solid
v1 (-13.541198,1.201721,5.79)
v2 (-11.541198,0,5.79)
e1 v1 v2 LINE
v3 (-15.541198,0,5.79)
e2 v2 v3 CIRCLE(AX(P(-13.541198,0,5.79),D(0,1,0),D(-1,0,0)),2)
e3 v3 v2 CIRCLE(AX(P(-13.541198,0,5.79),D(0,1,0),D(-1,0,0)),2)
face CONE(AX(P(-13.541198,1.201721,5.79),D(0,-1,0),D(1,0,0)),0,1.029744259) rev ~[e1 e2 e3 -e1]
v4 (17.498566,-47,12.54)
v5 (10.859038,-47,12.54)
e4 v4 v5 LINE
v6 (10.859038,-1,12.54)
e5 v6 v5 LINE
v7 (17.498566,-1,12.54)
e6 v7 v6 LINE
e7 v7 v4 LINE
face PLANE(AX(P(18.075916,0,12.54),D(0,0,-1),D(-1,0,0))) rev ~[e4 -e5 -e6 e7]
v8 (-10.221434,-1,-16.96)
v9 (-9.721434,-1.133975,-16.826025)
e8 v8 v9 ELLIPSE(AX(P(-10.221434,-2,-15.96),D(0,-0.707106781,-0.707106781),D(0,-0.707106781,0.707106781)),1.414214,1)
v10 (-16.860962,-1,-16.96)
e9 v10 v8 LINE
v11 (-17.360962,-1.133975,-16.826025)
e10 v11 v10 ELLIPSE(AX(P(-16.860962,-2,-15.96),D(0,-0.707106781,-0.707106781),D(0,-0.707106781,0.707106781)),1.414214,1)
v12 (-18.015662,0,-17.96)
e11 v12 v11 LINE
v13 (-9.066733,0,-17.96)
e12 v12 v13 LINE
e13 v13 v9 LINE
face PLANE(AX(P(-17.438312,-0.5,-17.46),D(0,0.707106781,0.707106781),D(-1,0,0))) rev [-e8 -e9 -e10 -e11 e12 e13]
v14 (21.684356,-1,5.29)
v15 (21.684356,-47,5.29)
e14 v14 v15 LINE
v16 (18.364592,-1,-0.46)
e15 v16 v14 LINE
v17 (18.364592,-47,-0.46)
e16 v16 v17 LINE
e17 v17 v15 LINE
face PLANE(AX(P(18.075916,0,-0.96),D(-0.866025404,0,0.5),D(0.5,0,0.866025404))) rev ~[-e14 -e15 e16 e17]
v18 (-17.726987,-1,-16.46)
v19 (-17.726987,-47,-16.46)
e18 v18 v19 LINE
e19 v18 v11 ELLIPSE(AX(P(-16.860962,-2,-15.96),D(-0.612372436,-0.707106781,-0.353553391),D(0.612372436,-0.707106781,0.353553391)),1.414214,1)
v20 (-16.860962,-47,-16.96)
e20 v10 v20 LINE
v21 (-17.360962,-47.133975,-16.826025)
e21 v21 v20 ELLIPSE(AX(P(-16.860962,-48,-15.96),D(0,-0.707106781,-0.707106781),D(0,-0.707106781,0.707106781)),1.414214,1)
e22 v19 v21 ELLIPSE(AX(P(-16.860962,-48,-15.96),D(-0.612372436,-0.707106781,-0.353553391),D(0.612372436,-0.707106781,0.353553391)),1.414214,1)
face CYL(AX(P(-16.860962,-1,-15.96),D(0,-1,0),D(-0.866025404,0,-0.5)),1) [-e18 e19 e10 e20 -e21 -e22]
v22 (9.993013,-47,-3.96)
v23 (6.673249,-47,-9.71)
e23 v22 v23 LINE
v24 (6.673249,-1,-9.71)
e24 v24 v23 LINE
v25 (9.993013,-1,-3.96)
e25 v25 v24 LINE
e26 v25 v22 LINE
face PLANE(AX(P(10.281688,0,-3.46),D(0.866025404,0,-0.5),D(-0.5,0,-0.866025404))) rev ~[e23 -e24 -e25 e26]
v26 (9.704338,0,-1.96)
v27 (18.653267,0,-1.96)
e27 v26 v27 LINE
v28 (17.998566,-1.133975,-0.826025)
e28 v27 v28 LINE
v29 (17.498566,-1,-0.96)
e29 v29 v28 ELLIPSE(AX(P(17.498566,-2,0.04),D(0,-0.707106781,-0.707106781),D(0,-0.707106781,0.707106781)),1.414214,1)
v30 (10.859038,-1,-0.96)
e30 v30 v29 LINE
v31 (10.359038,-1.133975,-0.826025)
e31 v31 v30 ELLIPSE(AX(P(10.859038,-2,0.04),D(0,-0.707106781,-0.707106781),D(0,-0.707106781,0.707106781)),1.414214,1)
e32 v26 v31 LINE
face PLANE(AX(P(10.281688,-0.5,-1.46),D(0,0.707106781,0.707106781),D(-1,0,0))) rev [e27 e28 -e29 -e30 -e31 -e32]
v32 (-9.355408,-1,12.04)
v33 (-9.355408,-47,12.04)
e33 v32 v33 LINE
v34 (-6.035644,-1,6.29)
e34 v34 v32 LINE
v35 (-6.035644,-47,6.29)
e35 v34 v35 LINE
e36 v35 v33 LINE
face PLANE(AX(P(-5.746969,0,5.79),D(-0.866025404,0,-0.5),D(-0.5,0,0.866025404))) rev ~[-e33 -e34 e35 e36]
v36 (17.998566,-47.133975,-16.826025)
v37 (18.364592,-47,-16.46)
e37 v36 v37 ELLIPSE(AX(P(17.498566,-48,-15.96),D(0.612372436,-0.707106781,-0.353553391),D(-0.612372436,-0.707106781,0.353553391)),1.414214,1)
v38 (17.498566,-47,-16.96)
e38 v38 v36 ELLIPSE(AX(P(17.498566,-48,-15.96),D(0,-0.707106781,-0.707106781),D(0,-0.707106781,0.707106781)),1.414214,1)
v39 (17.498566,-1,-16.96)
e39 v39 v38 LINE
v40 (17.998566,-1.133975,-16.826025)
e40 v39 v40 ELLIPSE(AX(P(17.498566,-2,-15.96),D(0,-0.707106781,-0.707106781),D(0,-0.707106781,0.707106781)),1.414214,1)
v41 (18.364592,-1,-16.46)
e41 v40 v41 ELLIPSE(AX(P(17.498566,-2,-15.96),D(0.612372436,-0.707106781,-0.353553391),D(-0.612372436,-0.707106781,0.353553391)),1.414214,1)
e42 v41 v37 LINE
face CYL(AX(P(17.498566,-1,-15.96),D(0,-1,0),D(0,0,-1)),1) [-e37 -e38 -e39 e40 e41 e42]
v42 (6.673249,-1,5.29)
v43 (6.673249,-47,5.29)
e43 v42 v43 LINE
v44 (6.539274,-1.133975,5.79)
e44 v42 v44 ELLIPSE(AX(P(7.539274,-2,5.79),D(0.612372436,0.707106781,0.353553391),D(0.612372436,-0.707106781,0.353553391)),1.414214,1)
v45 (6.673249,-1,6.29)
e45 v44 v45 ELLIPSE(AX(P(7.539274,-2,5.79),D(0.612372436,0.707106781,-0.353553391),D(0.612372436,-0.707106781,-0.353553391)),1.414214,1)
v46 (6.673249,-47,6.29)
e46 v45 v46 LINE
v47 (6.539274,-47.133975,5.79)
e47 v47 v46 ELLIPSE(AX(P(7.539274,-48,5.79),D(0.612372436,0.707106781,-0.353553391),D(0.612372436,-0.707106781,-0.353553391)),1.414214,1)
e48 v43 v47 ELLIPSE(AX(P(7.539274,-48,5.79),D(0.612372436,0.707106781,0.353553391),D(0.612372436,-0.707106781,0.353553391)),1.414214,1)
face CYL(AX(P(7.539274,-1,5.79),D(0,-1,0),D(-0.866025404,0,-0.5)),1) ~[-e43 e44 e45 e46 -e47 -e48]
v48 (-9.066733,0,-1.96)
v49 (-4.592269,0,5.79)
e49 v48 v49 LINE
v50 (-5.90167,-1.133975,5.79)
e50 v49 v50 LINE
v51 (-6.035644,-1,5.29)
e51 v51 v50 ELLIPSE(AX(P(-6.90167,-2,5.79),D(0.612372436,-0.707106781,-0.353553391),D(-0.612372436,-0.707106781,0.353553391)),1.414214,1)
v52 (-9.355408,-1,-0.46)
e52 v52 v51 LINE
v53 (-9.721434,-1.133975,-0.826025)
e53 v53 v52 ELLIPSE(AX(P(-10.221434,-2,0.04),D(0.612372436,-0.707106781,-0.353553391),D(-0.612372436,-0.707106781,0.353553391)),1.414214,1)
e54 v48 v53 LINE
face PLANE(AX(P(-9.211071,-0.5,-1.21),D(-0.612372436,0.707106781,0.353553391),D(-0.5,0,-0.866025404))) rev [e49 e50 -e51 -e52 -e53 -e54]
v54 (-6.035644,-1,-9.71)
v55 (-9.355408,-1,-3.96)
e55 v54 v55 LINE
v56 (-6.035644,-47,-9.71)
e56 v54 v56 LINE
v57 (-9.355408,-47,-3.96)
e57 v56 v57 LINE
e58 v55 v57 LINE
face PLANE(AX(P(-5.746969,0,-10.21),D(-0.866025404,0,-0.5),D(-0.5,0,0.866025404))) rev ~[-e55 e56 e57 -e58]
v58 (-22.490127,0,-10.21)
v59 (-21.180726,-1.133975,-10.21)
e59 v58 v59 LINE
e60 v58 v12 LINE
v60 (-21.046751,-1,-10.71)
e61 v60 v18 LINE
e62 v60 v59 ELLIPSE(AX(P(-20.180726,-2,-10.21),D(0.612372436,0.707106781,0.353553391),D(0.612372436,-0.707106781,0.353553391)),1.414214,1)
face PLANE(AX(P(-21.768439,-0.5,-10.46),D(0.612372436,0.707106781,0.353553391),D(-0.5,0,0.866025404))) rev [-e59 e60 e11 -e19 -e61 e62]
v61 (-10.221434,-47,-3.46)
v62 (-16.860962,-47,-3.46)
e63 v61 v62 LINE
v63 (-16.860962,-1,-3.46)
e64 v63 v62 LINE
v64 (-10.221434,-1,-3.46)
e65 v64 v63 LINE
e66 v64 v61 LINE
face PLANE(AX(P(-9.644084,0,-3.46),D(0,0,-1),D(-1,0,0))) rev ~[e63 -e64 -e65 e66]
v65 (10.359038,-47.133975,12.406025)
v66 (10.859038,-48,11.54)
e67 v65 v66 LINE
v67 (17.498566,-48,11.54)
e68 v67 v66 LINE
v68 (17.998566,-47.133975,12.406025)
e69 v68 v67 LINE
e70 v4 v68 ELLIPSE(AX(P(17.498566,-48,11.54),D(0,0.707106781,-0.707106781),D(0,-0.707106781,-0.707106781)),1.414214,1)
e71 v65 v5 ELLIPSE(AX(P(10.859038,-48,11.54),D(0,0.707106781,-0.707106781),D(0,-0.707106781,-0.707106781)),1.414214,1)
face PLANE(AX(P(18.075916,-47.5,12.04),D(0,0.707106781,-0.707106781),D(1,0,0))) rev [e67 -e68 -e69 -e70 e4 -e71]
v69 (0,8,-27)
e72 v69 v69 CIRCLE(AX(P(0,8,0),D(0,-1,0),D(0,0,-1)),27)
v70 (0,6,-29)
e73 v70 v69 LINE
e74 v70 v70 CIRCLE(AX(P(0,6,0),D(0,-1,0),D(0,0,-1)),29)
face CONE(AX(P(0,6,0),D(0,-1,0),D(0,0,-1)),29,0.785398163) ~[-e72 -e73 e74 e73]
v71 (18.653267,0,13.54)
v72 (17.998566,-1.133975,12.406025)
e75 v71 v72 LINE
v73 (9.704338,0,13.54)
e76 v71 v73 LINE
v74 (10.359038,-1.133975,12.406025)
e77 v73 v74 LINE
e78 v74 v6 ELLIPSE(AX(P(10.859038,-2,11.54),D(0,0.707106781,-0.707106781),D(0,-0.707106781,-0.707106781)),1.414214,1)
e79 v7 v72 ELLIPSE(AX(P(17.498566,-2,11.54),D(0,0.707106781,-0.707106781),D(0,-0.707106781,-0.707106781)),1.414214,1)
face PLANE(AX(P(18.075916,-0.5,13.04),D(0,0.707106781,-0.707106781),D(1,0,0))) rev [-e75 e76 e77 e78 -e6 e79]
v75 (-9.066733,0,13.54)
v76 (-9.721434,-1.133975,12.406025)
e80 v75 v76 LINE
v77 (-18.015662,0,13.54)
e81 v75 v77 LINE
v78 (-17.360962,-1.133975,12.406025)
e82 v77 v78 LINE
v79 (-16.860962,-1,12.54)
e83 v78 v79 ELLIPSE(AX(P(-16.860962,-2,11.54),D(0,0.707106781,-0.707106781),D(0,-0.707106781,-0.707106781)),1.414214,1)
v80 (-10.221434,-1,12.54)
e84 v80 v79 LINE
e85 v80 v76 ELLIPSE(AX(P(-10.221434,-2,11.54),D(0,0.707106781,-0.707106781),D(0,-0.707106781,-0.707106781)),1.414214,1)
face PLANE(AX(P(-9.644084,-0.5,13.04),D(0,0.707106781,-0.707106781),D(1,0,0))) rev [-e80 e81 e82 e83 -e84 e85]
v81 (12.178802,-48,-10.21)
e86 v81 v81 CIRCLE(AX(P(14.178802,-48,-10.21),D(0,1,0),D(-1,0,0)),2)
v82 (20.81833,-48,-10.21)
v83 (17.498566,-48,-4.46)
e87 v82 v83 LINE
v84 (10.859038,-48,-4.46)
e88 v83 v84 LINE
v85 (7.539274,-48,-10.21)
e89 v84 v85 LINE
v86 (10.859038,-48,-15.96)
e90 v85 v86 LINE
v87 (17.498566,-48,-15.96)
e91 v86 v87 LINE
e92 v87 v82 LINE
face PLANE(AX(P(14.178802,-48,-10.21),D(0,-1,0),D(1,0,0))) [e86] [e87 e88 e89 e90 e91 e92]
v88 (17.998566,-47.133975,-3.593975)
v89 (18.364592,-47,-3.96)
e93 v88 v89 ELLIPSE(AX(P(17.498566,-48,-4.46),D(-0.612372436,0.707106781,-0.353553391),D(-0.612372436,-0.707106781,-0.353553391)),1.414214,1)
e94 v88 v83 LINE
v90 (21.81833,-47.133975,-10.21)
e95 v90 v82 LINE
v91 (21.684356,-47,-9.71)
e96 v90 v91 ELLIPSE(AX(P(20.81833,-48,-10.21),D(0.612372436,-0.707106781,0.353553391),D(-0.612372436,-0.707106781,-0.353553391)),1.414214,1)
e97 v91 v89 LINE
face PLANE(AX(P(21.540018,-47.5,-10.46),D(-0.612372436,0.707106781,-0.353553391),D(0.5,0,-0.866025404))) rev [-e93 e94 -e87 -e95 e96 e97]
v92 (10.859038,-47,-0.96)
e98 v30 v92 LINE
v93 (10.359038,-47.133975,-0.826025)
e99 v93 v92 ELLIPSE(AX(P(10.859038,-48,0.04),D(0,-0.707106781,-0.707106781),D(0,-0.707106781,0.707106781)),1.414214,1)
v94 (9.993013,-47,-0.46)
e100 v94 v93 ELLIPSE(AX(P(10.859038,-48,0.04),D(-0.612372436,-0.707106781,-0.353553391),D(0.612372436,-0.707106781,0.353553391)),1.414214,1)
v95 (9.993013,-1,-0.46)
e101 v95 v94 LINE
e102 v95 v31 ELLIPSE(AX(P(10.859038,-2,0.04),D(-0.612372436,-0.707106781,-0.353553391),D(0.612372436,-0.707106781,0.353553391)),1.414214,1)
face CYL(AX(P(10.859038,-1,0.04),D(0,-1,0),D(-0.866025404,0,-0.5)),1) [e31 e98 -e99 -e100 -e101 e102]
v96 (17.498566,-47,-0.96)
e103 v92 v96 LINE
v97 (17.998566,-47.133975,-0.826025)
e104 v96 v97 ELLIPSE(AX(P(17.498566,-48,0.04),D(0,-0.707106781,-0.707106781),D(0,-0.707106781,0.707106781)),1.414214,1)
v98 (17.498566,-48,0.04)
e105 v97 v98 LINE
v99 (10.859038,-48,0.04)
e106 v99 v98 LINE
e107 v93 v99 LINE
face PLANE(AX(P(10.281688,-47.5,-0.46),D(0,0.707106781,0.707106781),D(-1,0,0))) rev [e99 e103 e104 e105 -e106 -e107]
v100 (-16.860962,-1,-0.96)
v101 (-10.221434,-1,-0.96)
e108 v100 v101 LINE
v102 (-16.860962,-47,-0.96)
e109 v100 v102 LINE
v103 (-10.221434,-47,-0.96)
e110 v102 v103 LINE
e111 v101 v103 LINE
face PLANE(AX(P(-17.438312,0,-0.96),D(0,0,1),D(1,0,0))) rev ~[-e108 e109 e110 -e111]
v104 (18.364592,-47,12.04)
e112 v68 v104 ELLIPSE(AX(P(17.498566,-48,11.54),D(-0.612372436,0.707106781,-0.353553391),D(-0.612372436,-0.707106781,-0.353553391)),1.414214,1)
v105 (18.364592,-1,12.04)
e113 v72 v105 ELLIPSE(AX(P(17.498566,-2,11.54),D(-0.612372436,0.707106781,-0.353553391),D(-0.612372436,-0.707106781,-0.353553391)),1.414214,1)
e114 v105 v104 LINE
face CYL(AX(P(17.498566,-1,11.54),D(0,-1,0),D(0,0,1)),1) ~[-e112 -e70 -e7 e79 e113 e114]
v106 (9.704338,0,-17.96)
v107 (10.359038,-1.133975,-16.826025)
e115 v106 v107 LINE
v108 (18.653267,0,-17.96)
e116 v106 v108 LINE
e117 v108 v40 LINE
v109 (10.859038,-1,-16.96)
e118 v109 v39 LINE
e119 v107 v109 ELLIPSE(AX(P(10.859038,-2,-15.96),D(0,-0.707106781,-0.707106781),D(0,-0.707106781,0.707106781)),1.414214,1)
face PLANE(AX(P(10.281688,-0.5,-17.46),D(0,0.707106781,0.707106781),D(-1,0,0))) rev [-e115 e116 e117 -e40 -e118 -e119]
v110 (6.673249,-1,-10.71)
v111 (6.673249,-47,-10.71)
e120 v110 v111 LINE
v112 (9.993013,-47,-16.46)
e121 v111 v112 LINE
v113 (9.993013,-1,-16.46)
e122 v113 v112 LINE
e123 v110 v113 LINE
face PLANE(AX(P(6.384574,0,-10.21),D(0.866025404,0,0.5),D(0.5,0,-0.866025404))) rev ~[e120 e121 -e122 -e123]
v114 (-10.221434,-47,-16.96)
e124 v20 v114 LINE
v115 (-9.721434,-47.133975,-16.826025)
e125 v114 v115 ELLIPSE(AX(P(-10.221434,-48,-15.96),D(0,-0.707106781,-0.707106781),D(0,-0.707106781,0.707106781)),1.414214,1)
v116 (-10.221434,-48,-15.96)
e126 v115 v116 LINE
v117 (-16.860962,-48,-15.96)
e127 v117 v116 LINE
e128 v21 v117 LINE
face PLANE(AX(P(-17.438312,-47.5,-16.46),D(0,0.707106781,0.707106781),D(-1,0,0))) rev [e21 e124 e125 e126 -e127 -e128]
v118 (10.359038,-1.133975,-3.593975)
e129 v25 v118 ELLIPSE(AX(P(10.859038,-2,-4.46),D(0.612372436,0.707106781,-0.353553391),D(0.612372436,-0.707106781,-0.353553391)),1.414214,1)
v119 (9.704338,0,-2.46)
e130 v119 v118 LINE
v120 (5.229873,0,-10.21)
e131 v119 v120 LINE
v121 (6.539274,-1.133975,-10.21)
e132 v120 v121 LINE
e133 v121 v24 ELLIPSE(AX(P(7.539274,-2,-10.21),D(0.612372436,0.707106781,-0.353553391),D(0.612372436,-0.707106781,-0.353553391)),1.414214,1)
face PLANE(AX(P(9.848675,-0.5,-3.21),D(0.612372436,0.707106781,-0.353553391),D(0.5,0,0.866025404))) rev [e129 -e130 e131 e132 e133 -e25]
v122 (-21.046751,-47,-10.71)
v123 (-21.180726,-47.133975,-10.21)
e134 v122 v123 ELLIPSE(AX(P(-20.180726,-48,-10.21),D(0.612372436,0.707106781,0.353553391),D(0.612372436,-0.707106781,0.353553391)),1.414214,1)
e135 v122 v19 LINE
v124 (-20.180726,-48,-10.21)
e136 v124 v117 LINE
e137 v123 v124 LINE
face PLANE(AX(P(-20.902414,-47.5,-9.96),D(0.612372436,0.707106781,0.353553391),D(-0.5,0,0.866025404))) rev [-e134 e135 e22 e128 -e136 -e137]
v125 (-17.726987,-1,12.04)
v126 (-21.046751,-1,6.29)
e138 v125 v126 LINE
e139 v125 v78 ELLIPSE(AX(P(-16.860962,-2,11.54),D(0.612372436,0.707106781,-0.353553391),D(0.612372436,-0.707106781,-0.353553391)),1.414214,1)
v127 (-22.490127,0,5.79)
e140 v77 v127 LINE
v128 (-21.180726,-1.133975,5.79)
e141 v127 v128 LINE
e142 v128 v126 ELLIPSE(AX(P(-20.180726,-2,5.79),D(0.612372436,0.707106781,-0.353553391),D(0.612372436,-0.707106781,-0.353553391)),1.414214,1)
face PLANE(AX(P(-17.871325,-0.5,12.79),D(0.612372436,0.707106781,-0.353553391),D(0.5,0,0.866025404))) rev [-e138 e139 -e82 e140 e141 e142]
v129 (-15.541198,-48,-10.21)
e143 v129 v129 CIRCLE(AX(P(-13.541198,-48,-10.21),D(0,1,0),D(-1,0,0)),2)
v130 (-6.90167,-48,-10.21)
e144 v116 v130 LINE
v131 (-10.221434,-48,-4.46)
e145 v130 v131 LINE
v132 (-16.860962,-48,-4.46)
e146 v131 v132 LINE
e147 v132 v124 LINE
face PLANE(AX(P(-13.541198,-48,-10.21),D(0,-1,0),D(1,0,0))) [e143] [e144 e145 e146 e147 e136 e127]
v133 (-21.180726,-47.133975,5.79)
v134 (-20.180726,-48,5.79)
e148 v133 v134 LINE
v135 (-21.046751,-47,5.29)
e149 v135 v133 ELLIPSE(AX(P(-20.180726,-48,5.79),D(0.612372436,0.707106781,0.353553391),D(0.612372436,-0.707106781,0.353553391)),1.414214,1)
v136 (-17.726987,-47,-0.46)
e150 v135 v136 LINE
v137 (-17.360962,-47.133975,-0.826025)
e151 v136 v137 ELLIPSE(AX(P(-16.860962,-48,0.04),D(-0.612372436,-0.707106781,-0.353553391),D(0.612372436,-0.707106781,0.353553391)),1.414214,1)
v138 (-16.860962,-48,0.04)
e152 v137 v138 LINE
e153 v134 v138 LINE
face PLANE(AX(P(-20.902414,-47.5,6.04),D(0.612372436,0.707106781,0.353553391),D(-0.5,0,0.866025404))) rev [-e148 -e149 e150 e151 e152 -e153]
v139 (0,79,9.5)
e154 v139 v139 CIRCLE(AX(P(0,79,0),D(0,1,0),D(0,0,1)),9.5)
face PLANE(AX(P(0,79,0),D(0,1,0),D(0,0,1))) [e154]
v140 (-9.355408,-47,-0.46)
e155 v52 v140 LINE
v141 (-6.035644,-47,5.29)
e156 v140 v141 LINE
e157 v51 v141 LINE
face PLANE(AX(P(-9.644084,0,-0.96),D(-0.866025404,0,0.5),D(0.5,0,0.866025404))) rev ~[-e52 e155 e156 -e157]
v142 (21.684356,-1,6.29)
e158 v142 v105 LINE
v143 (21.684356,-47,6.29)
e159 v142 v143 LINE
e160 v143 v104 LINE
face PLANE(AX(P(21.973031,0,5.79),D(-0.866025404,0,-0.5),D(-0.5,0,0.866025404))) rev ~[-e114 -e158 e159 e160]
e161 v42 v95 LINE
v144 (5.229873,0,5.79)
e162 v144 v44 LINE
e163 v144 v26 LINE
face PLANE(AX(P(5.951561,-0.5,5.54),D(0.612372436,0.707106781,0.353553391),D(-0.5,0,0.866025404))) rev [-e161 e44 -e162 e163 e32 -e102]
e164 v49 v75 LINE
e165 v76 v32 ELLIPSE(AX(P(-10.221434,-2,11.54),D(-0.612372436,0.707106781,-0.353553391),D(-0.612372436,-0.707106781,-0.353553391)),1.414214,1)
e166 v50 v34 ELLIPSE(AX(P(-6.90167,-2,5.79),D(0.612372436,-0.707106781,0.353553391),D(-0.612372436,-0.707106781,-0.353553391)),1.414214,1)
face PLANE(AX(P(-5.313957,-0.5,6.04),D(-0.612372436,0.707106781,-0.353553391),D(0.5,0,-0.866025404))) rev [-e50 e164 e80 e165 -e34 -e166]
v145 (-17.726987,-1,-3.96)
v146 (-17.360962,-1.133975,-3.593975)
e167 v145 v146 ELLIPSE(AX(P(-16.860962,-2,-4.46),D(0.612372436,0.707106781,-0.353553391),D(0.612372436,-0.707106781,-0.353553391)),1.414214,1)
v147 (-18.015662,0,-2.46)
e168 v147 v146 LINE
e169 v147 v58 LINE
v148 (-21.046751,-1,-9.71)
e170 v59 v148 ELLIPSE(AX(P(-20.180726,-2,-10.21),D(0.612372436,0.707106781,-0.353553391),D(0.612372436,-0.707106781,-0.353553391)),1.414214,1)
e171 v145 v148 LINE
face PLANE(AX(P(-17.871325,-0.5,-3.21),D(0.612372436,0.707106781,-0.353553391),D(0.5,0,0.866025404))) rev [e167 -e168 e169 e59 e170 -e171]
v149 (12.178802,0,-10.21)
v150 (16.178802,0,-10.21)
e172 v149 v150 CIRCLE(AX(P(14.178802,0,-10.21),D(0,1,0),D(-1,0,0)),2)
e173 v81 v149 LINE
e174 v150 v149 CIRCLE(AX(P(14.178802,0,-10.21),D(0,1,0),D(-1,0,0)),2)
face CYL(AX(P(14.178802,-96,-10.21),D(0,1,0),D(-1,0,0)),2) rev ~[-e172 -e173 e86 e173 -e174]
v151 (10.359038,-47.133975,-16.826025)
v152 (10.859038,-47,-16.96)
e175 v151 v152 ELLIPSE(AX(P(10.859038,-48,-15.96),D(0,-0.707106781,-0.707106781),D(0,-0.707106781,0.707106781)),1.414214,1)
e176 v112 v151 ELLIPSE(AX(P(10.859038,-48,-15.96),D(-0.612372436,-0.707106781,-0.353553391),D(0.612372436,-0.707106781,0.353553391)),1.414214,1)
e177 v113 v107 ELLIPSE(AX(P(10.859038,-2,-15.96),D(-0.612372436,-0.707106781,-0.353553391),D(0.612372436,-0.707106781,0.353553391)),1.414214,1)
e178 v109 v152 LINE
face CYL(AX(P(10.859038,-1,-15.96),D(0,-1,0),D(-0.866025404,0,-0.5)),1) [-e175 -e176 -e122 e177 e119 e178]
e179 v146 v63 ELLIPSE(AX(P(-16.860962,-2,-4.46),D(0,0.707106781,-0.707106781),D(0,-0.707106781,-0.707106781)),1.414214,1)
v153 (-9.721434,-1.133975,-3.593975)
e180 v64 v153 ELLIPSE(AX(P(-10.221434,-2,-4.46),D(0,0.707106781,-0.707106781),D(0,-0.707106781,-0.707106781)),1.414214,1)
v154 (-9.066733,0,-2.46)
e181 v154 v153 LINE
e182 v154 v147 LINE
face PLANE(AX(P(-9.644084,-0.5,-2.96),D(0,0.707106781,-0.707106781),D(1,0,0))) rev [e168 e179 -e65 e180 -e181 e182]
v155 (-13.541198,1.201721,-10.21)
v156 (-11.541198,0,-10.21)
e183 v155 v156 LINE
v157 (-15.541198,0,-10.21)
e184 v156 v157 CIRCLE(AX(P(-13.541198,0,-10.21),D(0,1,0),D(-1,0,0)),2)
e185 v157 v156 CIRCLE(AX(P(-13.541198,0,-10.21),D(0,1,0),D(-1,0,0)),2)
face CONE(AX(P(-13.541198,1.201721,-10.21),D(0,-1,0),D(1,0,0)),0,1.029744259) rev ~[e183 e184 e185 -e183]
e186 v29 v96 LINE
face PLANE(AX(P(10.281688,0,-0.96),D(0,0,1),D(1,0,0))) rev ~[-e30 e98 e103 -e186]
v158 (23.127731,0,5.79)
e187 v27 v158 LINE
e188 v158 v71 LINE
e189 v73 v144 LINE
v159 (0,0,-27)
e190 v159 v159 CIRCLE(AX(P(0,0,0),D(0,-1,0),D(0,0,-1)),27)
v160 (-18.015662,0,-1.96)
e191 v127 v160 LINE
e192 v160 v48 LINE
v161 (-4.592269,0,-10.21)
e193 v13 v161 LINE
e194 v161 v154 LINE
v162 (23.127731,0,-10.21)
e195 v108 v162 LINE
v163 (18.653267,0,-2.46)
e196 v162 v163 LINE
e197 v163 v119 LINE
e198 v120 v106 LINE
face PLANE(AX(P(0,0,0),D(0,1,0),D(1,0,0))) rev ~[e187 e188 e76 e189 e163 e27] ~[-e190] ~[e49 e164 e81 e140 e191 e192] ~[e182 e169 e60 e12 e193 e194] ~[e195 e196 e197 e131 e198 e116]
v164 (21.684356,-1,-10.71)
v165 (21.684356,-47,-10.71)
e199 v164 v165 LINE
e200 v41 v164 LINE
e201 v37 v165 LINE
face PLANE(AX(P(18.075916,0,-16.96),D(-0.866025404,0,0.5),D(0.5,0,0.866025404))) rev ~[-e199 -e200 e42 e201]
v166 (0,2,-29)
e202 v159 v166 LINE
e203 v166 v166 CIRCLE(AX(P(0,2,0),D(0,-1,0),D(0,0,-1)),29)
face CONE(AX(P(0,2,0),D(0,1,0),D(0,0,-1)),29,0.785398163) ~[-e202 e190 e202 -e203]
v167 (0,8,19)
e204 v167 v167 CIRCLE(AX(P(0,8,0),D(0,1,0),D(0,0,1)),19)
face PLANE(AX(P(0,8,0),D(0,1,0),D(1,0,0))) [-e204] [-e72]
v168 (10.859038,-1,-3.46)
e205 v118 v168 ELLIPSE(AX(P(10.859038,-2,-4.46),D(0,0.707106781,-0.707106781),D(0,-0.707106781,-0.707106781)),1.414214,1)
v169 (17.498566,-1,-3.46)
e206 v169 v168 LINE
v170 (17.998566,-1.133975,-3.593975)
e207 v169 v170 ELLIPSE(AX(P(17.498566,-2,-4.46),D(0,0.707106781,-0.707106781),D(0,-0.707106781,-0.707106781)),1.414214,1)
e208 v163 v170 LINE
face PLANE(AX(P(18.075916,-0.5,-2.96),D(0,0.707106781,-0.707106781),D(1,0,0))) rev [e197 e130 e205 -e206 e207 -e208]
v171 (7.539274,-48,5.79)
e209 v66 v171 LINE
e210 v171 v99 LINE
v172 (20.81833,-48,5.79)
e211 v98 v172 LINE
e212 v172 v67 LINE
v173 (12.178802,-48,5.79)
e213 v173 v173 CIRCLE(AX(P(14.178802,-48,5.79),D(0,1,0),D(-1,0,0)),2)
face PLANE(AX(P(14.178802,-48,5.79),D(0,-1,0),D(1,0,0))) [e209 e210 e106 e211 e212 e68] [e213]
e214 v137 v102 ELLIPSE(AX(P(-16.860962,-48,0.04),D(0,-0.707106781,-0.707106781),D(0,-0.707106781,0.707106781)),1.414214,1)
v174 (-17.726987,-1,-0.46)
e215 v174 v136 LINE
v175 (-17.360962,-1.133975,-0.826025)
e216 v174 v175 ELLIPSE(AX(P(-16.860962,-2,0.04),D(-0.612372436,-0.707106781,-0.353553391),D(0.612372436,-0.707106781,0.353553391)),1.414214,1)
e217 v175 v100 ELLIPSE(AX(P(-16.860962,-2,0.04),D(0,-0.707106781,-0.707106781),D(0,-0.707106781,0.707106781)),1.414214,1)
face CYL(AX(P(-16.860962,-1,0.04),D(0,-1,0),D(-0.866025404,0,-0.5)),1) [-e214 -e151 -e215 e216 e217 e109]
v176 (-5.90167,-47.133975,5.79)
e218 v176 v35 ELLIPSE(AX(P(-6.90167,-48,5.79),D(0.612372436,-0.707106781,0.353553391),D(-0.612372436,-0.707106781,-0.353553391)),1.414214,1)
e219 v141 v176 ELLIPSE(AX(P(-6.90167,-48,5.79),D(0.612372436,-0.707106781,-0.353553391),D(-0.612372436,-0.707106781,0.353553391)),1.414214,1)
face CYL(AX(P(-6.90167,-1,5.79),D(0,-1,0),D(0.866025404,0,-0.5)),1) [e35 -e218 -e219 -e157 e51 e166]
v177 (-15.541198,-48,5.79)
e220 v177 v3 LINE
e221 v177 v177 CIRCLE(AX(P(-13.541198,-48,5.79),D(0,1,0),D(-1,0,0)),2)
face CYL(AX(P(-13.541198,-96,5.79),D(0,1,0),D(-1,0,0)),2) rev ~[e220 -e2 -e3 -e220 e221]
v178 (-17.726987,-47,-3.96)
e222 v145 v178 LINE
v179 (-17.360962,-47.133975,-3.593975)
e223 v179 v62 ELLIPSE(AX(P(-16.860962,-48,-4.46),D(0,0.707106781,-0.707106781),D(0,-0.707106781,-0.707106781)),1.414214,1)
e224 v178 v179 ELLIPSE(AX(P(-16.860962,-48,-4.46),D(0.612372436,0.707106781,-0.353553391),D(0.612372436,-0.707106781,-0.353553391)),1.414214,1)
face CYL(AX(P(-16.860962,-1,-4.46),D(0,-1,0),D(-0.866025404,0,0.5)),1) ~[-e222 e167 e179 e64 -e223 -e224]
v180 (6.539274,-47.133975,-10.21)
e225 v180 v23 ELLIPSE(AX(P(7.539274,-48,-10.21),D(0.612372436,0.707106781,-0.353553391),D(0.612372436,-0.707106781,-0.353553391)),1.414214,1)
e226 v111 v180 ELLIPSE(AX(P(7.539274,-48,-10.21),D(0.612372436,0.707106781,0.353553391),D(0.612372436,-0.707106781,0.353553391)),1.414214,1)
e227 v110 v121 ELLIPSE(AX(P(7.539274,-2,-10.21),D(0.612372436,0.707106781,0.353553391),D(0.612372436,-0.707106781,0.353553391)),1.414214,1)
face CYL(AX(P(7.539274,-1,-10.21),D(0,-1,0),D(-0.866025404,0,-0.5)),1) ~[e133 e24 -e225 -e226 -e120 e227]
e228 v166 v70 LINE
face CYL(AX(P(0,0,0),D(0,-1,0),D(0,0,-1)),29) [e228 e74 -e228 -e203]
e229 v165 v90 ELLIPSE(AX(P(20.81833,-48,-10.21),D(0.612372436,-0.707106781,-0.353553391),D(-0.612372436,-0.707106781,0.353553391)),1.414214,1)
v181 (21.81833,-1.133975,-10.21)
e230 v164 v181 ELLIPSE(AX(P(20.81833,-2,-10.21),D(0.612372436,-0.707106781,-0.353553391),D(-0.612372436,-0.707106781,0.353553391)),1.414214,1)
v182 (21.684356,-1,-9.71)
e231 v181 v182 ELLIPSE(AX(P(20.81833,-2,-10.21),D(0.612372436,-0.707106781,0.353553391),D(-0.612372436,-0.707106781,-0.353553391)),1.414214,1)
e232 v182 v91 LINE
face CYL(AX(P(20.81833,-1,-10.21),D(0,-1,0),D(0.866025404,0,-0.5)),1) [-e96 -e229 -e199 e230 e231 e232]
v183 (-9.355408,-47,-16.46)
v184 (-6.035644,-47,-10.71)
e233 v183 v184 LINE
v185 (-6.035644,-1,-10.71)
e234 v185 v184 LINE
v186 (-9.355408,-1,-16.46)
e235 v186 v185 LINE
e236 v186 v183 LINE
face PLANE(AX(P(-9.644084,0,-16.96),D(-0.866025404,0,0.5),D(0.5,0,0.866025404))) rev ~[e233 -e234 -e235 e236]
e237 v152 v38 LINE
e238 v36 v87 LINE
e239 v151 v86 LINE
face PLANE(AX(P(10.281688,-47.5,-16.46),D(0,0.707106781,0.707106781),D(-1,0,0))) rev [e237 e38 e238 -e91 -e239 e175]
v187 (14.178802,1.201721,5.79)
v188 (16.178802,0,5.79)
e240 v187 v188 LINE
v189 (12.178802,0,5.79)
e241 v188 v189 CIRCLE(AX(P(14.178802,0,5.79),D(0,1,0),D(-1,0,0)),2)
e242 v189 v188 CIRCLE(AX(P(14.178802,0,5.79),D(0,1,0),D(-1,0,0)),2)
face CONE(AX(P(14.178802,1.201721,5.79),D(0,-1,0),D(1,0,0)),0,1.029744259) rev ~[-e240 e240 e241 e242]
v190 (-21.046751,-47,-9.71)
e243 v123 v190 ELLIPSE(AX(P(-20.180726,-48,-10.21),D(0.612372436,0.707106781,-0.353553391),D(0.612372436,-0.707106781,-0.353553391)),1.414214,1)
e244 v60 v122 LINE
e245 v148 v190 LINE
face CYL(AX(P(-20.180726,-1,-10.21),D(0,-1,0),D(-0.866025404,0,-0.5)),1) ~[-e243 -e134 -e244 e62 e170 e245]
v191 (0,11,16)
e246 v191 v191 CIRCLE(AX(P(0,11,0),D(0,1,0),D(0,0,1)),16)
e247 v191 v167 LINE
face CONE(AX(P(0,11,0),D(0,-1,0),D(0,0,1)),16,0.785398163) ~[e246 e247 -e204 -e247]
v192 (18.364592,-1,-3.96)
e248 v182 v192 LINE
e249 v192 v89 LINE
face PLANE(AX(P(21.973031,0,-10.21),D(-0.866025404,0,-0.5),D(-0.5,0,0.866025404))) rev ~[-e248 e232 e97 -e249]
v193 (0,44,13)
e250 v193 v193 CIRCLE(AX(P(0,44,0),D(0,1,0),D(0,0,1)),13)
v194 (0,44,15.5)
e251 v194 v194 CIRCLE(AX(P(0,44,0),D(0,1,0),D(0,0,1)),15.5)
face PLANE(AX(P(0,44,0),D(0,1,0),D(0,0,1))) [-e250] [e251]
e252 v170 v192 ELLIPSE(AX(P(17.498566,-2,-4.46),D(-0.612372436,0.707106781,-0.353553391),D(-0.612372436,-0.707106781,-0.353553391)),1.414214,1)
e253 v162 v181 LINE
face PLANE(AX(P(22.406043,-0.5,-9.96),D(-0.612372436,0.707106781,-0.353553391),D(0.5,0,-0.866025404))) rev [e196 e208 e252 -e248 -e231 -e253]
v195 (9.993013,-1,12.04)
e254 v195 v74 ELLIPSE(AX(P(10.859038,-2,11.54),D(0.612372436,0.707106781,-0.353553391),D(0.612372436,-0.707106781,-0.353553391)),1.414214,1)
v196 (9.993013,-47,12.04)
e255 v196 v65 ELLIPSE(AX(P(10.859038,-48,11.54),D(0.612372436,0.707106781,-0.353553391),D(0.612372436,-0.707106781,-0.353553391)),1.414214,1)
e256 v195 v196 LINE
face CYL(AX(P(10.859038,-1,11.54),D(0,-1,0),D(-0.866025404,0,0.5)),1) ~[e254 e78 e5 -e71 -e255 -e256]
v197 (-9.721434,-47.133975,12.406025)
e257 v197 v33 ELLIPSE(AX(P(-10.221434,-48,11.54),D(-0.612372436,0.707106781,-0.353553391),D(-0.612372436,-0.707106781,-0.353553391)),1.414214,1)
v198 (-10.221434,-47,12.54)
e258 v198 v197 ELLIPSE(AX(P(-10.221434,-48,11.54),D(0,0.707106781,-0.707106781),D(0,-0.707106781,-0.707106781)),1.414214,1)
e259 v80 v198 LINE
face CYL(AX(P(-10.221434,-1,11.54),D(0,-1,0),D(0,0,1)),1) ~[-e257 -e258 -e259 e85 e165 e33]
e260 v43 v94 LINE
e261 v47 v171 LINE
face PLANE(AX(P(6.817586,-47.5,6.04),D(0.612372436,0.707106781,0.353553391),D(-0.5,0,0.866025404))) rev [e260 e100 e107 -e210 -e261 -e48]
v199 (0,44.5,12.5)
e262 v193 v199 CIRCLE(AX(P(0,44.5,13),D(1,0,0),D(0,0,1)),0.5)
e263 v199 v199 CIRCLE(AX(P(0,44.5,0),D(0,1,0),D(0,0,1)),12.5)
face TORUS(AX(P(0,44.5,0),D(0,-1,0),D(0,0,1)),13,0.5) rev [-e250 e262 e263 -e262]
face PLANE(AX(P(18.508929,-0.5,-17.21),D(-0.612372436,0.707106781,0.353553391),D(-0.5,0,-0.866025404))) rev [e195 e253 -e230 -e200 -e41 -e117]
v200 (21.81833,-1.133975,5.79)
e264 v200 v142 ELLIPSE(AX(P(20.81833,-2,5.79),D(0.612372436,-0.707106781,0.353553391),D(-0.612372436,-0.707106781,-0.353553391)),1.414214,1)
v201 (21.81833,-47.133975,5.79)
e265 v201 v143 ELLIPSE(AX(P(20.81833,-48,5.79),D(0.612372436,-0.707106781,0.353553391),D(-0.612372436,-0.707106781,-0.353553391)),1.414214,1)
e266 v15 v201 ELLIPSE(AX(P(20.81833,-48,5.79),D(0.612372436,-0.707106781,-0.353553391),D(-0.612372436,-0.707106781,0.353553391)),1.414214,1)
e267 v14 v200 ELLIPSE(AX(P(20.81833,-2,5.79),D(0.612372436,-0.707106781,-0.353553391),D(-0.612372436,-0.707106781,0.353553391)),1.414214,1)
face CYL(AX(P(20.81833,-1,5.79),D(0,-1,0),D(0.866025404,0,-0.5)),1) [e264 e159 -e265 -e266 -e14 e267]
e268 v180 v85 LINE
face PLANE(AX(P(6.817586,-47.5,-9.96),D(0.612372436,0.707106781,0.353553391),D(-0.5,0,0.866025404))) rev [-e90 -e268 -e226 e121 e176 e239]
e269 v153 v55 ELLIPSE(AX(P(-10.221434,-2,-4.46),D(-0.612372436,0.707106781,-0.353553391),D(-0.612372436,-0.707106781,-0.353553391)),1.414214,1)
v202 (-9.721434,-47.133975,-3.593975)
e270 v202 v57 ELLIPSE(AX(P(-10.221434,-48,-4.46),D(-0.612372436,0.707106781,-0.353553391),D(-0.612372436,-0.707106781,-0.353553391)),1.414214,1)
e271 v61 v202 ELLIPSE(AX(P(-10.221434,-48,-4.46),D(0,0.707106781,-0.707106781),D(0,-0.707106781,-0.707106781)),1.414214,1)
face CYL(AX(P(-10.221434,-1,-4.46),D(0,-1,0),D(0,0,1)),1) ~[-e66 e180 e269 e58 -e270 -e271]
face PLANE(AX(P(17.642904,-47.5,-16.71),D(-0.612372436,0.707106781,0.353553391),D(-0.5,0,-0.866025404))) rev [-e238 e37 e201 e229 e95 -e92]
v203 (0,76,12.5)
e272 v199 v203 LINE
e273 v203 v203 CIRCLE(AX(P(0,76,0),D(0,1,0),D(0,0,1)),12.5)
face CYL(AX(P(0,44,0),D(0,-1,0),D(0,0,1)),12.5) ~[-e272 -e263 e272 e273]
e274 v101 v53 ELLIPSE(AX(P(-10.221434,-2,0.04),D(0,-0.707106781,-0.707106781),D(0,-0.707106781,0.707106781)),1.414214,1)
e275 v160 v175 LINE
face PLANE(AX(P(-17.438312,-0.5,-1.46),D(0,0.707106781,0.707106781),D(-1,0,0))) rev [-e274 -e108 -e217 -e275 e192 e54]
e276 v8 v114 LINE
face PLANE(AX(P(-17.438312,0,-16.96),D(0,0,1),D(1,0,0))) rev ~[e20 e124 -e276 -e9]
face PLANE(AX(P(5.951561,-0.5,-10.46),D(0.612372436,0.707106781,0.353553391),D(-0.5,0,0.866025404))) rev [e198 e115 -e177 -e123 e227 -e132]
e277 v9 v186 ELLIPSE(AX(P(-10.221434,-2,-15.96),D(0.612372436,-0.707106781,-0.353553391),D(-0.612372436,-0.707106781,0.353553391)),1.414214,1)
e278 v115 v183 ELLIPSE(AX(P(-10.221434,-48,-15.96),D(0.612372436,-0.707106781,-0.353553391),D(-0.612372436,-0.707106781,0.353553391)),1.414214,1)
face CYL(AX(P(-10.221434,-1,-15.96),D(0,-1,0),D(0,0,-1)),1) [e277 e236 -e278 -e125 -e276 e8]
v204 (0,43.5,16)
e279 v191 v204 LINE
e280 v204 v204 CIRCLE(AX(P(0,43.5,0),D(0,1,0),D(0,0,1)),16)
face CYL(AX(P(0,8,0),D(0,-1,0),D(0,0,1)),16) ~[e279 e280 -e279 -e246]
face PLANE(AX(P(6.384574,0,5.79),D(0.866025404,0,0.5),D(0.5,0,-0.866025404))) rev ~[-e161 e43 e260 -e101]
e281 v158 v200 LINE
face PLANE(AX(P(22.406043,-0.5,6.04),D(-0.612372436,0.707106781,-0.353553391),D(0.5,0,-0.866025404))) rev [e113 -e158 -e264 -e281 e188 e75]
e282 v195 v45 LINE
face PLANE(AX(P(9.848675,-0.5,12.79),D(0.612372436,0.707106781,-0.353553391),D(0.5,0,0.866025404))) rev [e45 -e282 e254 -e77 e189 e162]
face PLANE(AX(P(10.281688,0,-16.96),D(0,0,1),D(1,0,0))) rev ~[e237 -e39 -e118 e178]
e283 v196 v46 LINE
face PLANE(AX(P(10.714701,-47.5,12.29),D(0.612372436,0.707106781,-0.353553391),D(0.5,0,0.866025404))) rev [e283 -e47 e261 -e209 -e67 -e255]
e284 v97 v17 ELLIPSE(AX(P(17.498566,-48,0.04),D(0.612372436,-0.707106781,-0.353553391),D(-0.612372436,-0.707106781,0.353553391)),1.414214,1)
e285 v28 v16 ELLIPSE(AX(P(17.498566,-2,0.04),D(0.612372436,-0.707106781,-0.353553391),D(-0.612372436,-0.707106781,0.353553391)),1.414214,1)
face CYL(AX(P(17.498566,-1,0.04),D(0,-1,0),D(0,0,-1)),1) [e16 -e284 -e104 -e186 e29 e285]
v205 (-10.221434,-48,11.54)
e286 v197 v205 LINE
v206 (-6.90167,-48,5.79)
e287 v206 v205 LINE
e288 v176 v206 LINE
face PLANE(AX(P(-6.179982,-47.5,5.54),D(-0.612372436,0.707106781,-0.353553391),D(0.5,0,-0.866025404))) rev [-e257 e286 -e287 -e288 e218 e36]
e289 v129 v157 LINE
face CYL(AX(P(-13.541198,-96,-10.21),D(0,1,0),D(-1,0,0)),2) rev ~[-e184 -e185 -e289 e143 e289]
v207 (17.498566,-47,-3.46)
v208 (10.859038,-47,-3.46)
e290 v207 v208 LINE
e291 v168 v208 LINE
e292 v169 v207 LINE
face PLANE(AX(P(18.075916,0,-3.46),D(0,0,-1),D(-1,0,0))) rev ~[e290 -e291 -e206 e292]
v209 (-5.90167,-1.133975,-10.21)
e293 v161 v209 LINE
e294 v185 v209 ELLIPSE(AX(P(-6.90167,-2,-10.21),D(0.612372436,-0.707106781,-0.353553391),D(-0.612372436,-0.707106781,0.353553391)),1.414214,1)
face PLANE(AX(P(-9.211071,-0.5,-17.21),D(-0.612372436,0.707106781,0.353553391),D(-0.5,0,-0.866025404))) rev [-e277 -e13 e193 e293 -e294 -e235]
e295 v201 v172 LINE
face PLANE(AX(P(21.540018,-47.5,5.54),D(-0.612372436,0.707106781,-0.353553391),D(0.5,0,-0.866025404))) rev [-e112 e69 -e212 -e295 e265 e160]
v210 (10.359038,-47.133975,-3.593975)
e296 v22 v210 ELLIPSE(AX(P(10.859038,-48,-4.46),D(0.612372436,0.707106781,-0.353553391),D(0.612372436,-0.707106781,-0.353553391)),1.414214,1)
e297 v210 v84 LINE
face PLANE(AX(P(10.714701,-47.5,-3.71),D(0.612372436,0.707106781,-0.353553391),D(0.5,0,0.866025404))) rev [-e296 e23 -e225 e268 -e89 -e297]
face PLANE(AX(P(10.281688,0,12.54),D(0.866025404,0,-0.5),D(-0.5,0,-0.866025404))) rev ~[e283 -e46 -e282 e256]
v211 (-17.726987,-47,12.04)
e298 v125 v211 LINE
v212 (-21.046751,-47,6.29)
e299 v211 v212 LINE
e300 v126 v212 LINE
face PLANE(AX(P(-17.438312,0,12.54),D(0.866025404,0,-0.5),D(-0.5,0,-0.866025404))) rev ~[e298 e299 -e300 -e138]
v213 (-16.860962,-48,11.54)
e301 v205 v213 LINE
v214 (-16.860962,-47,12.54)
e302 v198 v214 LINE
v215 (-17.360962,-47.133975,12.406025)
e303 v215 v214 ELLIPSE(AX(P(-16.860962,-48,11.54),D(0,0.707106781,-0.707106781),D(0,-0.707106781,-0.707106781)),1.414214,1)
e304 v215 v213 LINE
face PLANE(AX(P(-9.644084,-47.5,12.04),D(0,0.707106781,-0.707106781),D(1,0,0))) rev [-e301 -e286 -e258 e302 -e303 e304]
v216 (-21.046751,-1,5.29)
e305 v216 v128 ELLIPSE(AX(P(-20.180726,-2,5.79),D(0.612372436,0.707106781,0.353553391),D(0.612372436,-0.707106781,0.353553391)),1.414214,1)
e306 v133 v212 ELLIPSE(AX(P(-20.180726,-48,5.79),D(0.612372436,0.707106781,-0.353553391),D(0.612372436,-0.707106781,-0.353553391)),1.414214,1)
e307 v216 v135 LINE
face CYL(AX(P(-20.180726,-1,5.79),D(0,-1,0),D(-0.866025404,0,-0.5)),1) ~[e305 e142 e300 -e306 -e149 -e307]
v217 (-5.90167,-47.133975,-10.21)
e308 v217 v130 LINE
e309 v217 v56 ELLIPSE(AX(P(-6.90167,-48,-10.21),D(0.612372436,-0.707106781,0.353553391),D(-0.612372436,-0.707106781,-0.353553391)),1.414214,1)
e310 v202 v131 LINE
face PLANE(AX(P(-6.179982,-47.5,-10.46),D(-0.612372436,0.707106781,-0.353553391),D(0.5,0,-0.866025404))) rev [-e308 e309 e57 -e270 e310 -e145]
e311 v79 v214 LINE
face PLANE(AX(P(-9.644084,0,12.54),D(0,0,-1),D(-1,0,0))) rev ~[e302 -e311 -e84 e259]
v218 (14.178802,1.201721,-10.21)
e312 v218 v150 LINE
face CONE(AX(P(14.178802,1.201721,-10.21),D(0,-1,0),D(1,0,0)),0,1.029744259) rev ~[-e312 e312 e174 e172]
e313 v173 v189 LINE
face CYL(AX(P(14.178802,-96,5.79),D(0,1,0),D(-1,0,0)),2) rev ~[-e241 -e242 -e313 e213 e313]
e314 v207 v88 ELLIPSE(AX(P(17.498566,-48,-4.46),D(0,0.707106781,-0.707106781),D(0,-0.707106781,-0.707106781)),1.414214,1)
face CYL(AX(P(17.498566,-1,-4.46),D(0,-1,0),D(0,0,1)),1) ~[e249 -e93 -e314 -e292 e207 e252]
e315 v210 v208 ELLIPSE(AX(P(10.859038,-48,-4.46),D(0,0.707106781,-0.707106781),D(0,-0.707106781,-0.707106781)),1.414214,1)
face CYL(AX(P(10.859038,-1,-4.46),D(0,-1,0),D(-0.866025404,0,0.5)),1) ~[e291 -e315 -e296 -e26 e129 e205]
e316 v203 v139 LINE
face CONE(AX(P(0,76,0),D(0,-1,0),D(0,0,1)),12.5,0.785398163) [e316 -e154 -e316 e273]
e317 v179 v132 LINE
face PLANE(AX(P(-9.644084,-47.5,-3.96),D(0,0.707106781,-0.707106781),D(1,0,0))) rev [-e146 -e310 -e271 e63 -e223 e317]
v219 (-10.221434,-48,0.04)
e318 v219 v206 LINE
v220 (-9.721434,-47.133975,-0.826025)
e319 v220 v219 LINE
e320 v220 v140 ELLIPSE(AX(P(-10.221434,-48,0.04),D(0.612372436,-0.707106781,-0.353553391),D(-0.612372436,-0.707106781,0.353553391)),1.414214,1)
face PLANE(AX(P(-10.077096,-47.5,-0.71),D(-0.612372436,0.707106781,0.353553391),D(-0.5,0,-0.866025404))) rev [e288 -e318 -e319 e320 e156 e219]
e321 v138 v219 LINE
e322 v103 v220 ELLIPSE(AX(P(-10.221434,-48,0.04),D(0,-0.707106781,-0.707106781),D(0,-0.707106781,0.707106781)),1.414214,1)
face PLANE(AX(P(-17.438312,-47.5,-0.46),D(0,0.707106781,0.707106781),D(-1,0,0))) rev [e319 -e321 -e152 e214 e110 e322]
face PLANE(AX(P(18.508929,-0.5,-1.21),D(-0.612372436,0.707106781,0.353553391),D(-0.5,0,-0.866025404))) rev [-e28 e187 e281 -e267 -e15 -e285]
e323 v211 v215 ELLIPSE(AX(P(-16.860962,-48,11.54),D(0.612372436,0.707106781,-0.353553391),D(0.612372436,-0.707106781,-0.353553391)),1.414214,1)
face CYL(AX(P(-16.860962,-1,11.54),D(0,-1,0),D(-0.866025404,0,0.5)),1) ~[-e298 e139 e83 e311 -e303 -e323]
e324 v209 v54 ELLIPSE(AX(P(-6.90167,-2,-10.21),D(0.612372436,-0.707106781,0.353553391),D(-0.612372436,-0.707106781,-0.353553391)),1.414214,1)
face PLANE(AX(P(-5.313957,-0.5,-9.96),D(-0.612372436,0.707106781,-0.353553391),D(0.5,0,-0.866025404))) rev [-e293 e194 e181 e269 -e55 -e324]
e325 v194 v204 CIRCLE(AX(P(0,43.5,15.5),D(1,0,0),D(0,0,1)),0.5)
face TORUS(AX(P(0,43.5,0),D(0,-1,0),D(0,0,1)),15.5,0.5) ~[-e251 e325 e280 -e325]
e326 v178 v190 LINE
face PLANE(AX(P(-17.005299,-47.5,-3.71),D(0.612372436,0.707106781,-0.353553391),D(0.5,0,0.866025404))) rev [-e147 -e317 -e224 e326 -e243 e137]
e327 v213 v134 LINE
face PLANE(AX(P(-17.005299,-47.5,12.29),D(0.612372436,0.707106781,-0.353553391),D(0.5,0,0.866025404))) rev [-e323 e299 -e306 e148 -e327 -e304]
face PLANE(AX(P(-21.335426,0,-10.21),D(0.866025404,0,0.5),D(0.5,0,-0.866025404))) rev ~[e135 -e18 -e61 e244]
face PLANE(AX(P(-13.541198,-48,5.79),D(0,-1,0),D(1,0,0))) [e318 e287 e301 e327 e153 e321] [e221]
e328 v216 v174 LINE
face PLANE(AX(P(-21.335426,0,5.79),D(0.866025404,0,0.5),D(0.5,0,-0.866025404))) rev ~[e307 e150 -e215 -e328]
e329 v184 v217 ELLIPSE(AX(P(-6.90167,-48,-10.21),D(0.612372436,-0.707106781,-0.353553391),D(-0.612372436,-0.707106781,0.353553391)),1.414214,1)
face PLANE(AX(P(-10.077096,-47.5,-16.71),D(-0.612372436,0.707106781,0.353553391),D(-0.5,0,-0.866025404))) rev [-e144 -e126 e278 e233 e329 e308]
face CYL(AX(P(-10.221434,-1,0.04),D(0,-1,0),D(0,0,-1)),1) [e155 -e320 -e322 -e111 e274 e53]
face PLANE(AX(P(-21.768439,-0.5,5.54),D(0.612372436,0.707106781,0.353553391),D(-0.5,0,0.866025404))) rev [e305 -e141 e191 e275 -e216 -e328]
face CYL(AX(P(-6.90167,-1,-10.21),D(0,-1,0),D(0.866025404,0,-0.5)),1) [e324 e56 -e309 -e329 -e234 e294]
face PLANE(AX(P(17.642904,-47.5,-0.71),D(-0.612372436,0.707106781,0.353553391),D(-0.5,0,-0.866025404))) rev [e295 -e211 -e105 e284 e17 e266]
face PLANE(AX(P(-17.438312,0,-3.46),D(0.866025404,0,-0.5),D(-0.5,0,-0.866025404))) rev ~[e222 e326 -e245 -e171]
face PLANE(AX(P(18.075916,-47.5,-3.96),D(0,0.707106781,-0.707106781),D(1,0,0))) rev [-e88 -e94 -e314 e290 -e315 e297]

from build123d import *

# Parameters (mm, degrees)
SKETCH1_W                 = 91.997104186
SKETCH1_H                 = 68.052652412
BOSS_EXTRUDE1_DEPTH       = 8
SKETCH2_R                 = 16
BOSS_EXTRUDE2_DEPTH       = 36
SKETCH3_R                 = 12.5
BOSS_EXTRUDE3_DEPTH       = 35
FILLET1_R                 = 0.5
FILLET2_R                 = 0.5
CHAMFER1_SIZE             = 3
CHAMFER2_SIZE             = 3
BOSS_EXTRUDE4_DEPTH       = 48
CHAMFER3_SIZE             = 1
CHAMFER4_SIZE             = 1
FILLET4_R                 = 1
SKETCH7_OUTSIDE_W         = 128.188
SKETCH7_OUTSIDE_H         = 104.242
SKETCH7_OUTSIDE_R         = 29
CUT_EXTRUDE1_DEPTH        = 40
CHAMFER5_SIZE             = 2
F_4_0MM_DOWEL_HOLE1_D     = 4
F_4_0MM_DOWEL_HOLE1_DEPTH = 48
F_4_0MM_DOWEL_HOLE1_TIP   = 1.201721238


with BuildPart() as part:
    # Sketch1 → Boss-Extrude1 (new body)
    with BuildSketch(Plane(origin=(0, 0, 0), x_dir=(1, 0, 0), z_dir=(0, 1, 0))):
        Rectangle(SKETCH1_W, SKETCH1_H)
    extrude(amount=BOSS_EXTRUDE1_DEPTH)

    # Sketch2 → Boss-Extrude2 (add)
    with BuildSketch(Plane(origin=(0, 8, 0), x_dir=(1, 0, 0), z_dir=(0, 1, 0))):
        with Locations(Location((0, 0, 0), (0, 0, 270))):
            Circle(SKETCH2_R)
    extrude(amount=BOSS_EXTRUDE2_DEPTH)

    # Sketch3 → Boss-Extrude3 (add)
    with BuildSketch(Plane(origin=(0, 44, 0), x_dir=(1, 0, 0), z_dir=(0, 1, 0))):
        with Locations(Location((0, 0, 0), (0, 0, 270))):
            Circle(SKETCH3_R)
    extrude(amount=BOSS_EXTRUDE3_DEPTH)

    # Fillet1
    fillet1_edges = [part.edges().sort_by_distance(p)[0] for p in [
        (0, 44, -12.5),
    ]]
    fillet(fillet1_edges, radius=FILLET1_R)

    # Fillet2
    fillet2_edges = [part.edges().sort_by_distance(p)[0] for p in [
        (0, 44, -16),
    ]]
    fillet(fillet2_edges, radius=FILLET2_R)

    # Chamfer1
    chamfer1_edges = [part.edges().sort_by_distance(p)[0] for p in [
        (0, 79, -12.5),
    ]]
    chamfer(chamfer1_edges, length=CHAMFER1_SIZE)

    # Chamfer2
    chamfer2_edges = [part.edges().sort_by_distance(p)[0] for p in [
        (0, 8, -16),
    ]]
    chamfer(chamfer2_edges, length=CHAMFER2_SIZE)

    # Sketch4 → Boss-Extrude4 (add)
    with BuildSketch(Plane.XZ):
        Polygon((6.384573519, -10.21), (10.281687836, -16.96), (18.075916471, -16.96), (21.973030788, -10.21), (18.075916471, -3.46), (10.281687836, -3.46), align=None)
        Polygon((6.384573519, 5.79), (10.281687836, -0.96), (18.075916471, -0.96), (21.973030788, 5.79), (18.075916471, 12.54), (10.281687836, 12.54), align=None)
        Polygon((-21.335426481, 5.79), (-17.438312164, -0.96), (-9.644083529, -0.96), (-5.746969212, 5.79), (-9.644083529, 12.54), (-17.438312164, 12.54), align=None)
        Polygon((-21.335426481, -10.21), (-17.438312164, -16.96), (-9.644083529, -16.96), (-5.746969212, -10.21), (-9.644083529, -3.46), (-17.438312164, -3.46), align=None)
    extrude(amount=BOSS_EXTRUDE4_DEPTH)

    # Chamfer3
    chamfer3_edges = [part.edges().sort_by_distance(p)[0] for p in [
        (8.333130678, 0, -13.585),
        (14.178802154, 0, -16.96),
        (20.024473629, 0, -13.585),
        (20.024473629, 0, -6.835),
        (14.178802154, 0, -3.46),
        (8.333130678, 0, -6.835),
        (0, 0, 34.026326206),
        (-45.998552093, 0, 0),
        (8.333130678, 0, 2.415),
        (0, 0, -34.026326206),
        (14.178802154, 0, -0.96),
        (20.024473629, 0, 2.415),
        (20.024473629, 0, 9.165),
        (14.178802154, 0, 12.54),
        (8.333130678, 0, 9.165),
        (45.998552093, 0, 0),
        (-19.386869322, 0, 2.415),
        (-13.541197846, 0, -0.96),
        (-7.695526371, 0, 2.415),
        (-7.695526371, 0, 9.165),
        (-13.541197846, 0, 12.54),
        (-19.386869322, 0, 9.165),
        (-19.386869322, 0, -13.585),
        (-13.541197846, 0, -16.96),
        (-7.695526371, 0, -13.585),
        (-7.695526371, 0, -6.835),
        (-13.541197846, 0, -3.46),
        (-19.386869322, 0, -6.835),
    ]]
    chamfer(chamfer3_edges, length=CHAMFER3_SIZE)

    # Chamfer4
    chamfer4_edges = [part.edges().sort_by_distance(p)[0] for p in [
        (8.333130678, -48, -13.585),
        (14.178802154, -48, -16.96),
        (20.024473629, -48, -13.585),
        (20.024473629, -48, -6.835),
        (14.178802154, -48, -3.46),
        (8.333130678, -48, -6.835),
        (8.333130678, -48, 2.415),
        (14.178802154, -48, -0.96),
        (20.024473629, -48, 2.415),
        (20.024473629, -48, 9.165),
        (14.178802154, -48, 12.54),
        (8.333130678, -48, 9.165),
        (-19.386869322, -48, 2.415),
        (-13.541197846, -48, -0.96),
        (-7.695526371, -48, 2.415),
        (-7.695526371, -48, 9.165),
        (-13.541197846, -48, 12.54),
        (-19.386869322, -48, 9.165),
        (-19.386869322, -48, -13.585),
        (-13.541197846, -48, -16.96),
        (-7.695526371, -48, -13.585),
        (-7.695526371, -48, -6.835),
        (-13.541197846, -48, -3.46),
        (-19.386869322, -48, -6.835),
    ]]
    chamfer(chamfer4_edges, length=CHAMFER4_SIZE)

    # Fillet4
    fillet4_edges = [part.edges().sort_by_distance(p)[0] for p in [
        (10.281687836, -24, 12.54),
        (6.384573519, -24, 5.79),
        (18.075916471, -24, 12.54),
        (21.973030788, -24, 5.79),
        (18.075916471, -24, -0.96),
        (10.281687836, -24, -0.96),
        (-17.438312164, -24, 12.54),
        (-21.335426481, -24, 5.79),
        (-9.644083529, -24, 12.54),
        (-5.746969212, -24, 5.79),
        (-9.644083529, -24, -0.96),
        (-17.438312164, -24, -0.96),
        (-17.438312164, -24, -3.46),
        (-21.335426481, -24, -10.21),
        (-9.644083529, -24, -3.46),
        (-5.746969212, -24, -10.21),
        (-9.644083529, -24, -16.96),
        (-17.438312164, -24, -16.96),
        (10.281687836, -24, -3.46),
        (6.384573519, -24, -10.21),
        (18.075916471, -24, -3.46),
        (21.973030788, -24, -10.21),
        (18.075916471, -24, -16.96),
        (10.281687836, -24, -16.96),
    ]]
    fillet(fillet4_edges, radius=FILLET4_R)

    # Sketch7 outside → Cut-Extrude1 (cut)
    with BuildSketch(Plane.XZ):
        Rectangle(SKETCH7_OUTSIDE_W, SKETCH7_OUTSIDE_H)
        with Locations(Location((0, 0, 0), (0, 0, 270))):
            Circle(SKETCH7_OUTSIDE_R, mode=Mode.SUBTRACT)
    extrude(amount=-CUT_EXTRUDE1_DEPTH, mode=Mode.SUBTRACT)

    # Chamfer5
    chamfer5_edges = [part.edges().sort_by_distance(p)[0] for p in [
        (0, 8, 29),
        (0, 0, 29),
    ]]
    chamfer(chamfer5_edges, length=CHAMFER5_SIZE)

    # Ø4.0mm Dowel Hole1
    with Locations(Plane.XZ.offset(48)):
        with Locations((14.178802154, 5.79), (-13.541197846, 5.79), (-13.541197846, -10.21), (14.178802154, -10.21)):
            Hole(F_4_0MM_DOWEL_HOLE1_D / 2, depth=F_4_0MM_DOWEL_HOLE1_DEPTH)
            with Locations((0, 0, -(F_4_0MM_DOWEL_HOLE1_DEPTH + F_4_0MM_DOWEL_HOLE1_TIP / 2))):  # 118° drill point
                Cone(0, F_4_0MM_DOWEL_HOLE1_D / 2, F_4_0MM_DOWEL_HOLE1_TIP, mode=Mode.SUBTRACT)


solid = part.part
